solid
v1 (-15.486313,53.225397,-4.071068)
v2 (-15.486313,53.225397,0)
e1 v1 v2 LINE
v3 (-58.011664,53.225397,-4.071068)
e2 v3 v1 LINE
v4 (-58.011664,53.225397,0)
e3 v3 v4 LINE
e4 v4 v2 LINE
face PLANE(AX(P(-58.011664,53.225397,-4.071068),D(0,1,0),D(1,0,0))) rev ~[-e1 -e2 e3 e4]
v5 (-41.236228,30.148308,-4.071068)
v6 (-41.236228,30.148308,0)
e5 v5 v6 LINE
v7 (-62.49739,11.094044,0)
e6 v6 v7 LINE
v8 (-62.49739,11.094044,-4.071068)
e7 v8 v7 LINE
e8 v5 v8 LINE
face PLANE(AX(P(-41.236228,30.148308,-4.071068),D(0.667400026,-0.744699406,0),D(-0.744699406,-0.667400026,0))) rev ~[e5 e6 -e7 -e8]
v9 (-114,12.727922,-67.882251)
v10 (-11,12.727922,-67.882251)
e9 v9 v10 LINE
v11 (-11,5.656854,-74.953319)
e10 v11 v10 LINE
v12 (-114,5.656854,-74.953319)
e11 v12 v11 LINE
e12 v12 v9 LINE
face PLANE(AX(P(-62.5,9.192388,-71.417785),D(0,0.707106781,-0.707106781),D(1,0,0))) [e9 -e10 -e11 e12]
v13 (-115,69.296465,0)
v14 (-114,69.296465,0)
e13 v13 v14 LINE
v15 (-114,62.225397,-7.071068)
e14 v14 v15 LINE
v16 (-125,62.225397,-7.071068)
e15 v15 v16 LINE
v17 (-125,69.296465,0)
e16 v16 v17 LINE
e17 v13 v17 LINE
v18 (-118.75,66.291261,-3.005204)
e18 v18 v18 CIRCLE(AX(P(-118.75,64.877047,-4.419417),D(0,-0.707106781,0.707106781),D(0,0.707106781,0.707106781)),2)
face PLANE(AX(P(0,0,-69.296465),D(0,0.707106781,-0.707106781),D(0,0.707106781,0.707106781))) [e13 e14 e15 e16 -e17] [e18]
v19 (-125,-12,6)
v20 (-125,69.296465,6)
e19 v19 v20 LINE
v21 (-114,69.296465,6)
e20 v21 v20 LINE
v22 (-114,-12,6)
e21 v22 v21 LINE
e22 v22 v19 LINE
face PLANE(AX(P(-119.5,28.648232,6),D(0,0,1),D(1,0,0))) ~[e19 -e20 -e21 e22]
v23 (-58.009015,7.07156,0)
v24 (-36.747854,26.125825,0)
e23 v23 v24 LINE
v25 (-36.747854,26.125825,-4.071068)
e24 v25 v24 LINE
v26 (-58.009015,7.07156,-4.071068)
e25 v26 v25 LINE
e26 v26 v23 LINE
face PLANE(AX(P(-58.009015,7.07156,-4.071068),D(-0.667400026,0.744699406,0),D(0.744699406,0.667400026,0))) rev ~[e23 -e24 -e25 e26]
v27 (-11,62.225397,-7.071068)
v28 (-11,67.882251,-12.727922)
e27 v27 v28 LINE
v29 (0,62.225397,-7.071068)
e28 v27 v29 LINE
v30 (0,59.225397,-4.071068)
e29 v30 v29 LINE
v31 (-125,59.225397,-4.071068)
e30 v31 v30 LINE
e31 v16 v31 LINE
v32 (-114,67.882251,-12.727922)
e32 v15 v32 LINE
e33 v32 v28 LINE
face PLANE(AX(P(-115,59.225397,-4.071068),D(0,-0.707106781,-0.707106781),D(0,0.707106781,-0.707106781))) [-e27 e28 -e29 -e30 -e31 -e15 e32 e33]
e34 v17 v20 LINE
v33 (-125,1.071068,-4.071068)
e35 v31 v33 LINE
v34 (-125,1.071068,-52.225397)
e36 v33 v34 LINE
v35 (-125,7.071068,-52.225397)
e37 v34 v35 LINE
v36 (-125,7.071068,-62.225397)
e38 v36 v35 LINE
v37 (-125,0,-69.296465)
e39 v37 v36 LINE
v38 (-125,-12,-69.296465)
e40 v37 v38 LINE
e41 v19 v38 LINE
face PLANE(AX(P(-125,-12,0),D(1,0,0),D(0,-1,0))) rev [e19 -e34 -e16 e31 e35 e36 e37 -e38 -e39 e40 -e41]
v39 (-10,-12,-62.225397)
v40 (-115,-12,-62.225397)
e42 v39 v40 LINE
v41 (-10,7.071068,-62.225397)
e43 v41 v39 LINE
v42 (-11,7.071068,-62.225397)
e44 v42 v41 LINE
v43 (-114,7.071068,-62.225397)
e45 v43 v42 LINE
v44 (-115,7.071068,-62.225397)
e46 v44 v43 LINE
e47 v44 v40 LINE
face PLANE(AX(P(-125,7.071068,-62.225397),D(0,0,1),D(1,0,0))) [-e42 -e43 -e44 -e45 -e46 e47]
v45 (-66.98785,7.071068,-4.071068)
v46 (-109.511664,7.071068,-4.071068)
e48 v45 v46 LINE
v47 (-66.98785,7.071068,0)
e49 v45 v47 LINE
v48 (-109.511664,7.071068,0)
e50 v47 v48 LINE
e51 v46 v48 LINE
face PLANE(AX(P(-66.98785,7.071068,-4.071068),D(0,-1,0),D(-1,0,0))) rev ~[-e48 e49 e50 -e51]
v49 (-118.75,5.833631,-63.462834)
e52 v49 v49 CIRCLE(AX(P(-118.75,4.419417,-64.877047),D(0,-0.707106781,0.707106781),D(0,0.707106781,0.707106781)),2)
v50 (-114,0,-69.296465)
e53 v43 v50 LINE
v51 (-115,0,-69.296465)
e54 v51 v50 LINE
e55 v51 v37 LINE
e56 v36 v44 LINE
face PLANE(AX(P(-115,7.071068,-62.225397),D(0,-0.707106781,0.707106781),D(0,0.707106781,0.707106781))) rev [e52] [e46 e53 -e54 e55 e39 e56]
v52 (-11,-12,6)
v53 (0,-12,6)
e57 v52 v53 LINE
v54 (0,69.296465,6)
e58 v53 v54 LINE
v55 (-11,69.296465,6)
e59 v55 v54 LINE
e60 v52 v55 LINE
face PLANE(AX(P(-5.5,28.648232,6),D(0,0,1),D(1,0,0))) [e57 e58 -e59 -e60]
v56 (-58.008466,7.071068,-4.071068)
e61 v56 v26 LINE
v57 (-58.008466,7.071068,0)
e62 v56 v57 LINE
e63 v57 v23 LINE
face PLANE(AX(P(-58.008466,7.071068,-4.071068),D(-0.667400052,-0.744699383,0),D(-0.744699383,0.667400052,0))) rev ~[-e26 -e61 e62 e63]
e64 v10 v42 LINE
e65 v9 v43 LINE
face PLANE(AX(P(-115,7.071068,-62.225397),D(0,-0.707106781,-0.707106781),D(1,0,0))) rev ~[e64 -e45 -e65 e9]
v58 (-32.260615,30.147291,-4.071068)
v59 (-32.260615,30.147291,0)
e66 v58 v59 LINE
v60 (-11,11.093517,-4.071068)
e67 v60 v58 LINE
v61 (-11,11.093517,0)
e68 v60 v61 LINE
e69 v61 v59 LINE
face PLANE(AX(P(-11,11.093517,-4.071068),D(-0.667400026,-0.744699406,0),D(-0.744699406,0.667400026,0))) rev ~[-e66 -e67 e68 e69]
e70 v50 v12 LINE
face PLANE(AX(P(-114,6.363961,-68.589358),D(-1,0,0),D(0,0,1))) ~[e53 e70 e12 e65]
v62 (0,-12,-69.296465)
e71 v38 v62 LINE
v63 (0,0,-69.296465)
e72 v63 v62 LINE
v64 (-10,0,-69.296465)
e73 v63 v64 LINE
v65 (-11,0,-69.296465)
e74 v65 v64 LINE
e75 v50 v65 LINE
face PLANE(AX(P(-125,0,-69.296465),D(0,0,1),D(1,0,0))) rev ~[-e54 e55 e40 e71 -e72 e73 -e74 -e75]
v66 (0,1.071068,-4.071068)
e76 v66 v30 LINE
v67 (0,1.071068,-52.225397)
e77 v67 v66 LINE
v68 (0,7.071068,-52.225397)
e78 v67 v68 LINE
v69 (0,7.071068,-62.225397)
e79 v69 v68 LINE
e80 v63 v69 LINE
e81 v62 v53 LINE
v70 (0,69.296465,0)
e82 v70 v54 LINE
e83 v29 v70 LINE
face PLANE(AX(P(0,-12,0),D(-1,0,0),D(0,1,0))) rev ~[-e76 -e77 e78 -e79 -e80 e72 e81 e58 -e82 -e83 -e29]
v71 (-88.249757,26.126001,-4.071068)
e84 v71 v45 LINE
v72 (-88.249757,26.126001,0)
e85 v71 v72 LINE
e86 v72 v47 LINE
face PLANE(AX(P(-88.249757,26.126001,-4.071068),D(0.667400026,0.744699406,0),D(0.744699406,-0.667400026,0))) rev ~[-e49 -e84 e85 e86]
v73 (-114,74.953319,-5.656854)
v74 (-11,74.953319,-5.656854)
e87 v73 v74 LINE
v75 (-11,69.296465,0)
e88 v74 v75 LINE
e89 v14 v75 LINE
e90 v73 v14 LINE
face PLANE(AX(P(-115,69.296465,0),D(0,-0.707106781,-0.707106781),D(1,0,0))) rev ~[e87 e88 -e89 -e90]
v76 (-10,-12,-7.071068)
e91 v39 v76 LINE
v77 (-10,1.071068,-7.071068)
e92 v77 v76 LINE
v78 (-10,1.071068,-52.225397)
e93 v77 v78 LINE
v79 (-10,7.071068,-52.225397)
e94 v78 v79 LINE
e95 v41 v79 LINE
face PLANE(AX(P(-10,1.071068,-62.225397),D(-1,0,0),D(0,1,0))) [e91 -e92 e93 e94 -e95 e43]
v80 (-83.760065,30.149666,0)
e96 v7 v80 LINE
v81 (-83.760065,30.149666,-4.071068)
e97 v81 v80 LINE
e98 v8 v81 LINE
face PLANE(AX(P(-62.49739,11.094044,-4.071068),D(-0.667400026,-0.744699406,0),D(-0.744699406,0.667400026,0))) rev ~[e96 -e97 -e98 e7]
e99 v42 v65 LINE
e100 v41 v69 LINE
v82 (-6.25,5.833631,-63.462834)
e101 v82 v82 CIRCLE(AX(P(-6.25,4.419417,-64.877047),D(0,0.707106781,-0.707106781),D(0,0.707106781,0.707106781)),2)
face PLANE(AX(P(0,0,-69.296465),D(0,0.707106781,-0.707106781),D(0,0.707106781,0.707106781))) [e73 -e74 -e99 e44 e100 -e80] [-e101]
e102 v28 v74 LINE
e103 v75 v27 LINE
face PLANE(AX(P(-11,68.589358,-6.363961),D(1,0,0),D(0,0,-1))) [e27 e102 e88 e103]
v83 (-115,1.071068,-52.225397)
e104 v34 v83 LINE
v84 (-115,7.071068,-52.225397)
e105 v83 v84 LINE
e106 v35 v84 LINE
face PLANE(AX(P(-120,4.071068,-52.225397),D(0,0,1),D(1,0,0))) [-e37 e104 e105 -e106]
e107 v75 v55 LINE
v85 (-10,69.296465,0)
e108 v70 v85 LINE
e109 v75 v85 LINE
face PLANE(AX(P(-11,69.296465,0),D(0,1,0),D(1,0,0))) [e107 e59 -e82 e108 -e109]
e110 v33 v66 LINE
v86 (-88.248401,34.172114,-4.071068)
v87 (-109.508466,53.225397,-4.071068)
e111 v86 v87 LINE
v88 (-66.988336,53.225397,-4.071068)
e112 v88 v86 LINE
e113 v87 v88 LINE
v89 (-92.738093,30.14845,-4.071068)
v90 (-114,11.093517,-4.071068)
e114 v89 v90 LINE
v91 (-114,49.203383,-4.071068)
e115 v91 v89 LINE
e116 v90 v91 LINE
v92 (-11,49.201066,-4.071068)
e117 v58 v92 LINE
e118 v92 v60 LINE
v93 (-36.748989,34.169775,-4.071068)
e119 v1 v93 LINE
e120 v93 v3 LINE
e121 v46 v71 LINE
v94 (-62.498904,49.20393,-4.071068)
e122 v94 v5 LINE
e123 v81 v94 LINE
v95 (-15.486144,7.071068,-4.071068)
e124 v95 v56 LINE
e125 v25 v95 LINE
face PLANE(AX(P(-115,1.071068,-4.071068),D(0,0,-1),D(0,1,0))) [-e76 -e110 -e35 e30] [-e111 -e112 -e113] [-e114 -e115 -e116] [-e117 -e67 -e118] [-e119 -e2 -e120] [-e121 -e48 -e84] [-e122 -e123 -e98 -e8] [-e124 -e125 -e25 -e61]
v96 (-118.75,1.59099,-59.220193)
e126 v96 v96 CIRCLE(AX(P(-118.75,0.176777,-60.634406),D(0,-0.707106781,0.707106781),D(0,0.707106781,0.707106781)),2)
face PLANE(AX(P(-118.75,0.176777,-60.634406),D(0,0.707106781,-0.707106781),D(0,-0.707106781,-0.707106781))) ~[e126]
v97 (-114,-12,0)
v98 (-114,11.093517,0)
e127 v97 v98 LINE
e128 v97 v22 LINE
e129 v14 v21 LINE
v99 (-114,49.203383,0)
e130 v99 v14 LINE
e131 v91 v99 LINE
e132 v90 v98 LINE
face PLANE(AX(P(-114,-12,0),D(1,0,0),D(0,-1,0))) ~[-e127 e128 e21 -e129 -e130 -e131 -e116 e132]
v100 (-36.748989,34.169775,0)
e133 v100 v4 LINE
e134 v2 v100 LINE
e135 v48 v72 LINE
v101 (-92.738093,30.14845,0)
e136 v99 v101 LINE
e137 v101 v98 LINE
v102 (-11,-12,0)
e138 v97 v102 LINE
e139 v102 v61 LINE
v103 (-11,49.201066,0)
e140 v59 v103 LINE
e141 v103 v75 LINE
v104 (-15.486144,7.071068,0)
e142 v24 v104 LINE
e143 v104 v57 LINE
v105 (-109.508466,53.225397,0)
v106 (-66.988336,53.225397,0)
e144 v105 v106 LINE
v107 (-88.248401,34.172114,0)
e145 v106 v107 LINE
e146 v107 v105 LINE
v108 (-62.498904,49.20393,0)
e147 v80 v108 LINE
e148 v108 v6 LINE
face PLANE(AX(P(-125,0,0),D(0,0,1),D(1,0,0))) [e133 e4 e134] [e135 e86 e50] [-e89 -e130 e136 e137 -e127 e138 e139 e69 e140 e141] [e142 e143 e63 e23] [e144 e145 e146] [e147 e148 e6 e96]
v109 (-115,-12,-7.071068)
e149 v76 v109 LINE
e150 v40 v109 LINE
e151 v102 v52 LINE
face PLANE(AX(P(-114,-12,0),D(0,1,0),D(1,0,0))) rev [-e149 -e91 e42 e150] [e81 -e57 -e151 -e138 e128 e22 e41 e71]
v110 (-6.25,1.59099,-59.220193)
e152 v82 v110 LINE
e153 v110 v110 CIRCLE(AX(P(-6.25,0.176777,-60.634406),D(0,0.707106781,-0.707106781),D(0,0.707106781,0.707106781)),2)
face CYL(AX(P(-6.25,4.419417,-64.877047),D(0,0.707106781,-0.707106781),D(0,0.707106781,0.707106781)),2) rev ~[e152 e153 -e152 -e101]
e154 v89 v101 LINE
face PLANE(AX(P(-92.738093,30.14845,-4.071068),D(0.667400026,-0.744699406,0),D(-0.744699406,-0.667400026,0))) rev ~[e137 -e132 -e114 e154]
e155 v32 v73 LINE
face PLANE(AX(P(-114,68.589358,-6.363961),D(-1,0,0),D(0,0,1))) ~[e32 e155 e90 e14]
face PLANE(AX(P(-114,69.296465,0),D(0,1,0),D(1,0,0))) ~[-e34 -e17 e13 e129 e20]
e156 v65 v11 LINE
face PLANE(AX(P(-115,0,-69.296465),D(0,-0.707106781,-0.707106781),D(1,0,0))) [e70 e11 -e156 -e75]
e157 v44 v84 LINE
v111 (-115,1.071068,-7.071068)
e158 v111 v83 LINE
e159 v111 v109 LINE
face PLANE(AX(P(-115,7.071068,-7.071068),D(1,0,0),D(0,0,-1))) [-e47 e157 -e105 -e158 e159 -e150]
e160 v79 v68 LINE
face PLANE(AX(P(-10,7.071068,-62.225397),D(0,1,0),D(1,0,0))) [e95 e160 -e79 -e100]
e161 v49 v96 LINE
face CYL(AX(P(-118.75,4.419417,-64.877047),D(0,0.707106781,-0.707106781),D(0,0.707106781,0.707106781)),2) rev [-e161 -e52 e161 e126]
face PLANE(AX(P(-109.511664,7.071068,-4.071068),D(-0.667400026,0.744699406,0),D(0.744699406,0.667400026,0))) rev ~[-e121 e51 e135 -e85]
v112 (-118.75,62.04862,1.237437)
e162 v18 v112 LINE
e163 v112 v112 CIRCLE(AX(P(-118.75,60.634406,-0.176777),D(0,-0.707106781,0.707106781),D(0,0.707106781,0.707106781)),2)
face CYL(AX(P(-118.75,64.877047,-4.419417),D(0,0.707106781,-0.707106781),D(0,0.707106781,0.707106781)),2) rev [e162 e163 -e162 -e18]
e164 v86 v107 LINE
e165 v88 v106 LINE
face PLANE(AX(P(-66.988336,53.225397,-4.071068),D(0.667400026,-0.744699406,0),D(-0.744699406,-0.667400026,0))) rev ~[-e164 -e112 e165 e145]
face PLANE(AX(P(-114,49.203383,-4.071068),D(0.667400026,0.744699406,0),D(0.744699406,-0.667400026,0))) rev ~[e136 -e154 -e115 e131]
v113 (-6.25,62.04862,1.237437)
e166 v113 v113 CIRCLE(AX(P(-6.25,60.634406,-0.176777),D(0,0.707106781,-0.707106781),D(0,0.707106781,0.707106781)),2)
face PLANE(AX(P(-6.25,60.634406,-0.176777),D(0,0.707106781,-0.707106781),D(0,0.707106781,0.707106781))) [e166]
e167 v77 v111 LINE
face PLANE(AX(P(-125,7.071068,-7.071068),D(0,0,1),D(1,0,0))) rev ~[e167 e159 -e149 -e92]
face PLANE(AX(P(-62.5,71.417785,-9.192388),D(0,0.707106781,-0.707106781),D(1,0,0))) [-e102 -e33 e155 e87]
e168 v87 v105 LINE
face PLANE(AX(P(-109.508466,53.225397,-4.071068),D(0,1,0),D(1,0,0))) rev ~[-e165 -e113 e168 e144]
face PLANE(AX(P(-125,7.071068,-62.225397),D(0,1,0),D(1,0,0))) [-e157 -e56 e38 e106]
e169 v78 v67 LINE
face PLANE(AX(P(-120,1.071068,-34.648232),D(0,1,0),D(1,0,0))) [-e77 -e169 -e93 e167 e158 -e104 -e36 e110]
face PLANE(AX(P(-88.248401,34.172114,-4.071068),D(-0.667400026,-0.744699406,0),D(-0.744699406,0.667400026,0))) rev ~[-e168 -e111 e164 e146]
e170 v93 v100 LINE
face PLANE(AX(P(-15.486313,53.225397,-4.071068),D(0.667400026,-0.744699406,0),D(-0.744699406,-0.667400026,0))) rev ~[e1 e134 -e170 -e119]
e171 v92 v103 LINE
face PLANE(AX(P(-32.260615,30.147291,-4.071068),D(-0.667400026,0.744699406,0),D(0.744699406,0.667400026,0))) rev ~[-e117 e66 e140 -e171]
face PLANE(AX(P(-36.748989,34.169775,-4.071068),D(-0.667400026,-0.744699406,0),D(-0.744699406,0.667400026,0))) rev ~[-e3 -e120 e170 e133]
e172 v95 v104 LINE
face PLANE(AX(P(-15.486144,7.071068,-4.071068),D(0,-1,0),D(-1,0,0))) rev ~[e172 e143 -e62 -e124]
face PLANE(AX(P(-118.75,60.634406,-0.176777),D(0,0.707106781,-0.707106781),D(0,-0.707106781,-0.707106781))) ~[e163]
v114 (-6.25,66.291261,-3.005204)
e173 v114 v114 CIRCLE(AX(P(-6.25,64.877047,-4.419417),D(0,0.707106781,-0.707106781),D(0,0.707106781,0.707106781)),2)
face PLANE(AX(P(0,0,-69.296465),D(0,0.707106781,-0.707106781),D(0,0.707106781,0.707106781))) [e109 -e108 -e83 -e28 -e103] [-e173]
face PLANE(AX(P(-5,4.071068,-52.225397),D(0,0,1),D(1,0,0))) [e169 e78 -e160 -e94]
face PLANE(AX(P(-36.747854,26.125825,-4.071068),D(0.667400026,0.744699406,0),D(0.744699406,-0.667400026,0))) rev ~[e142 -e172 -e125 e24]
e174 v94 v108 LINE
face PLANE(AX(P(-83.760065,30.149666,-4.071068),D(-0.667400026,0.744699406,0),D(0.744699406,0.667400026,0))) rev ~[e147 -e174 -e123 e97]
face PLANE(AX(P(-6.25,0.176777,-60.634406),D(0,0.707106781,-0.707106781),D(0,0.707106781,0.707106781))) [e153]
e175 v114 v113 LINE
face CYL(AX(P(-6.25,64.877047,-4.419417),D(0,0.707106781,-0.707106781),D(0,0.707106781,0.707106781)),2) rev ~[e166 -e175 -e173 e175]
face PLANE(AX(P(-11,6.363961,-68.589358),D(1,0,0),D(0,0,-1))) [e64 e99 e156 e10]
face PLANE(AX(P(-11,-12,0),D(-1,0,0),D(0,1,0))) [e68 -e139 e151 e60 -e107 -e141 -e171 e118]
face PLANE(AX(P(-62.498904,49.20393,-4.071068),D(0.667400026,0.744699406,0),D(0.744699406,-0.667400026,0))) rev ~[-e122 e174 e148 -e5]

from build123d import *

# Parameters (mm, degrees)
BOSS_EXTRUDE3_DEPTH  = 125
SKETCH3_W            = 125
SKETCH3_H            = 69.296464556
BOSS_EXTRUDE5_DEPTH  = 12
CUT_EXTRUDE1_DEPTH   = 159.836393815
SKETCH7_W            = 105
SKETCH7_H            = 10
BOSS_EXTRUDE6_DEPTH  = 8
SKETCH8_W            = 105
SKETCH8_H            = 10
BOSS_EXTRUDE7_DEPTH  = 8
SKETCH9_W            = 105
SKETCH9_H            = 55.154328932
CUT_EXTRUDE2_DEPTH   = 161.78246173
SKETCH11_W           = 10
SKETCH11_H           = 55.154328932
CUT_EXTRUDE3_DEPTH   = 6
SKETCH12_W           = 10
SKETCH12_H           = 55.154328932
CUT_EXTRUDE4_DEPTH   = 6
SKETCH13_W           = 105
SKETCH13_H           = 61.154328932
CUT_EXTRUDE6_DEPTH   = 3
SKETCH14_R           = 1.9
CUT_EXTRUDE8_DEPTH   = 6
SKETCH15_R           = 1.9
CUT_EXTRUDE9_DEPTH   = 6
BOSS_EXTRUDE9_REACH  = 158.4
SKETCH25_W           = 10
SKETCH25_H           = 6
BOSS_EXTRUDE13_DEPTH = 10
CUT_EXTRUDE10_DEPTH  = 1
CUT_EXTRUDE11_DEPTH  = 1
SKETCH29_W           = 11
SKETCH29_H           = 81.296464556
BOSS_EXTRUDE15_DEPTH = 6
SKETCH31_R           = 2
CUT_EXTRUDE16_DEPTH  = 6
SKETCH32_R           = 2
CUT_EXTRUDE17_DEPTH  = 6
CUT_EXTRUDE22_DEPTH  = 157.400127877
CUT_EXTRUDE23_DEPTH  = 157.400127877
CUT_EXTRUDE26_REACH  = 164.072


with BuildPart() as part:
    # Sketch1 → Boss-Extrude3 (new body)
    with BuildSketch(Plane(origin=(0, 0, 0), x_dir=(0, 0, -1), z_dir=(1, 0, 0))):
        Polygon((0, 0), (69.296464556, 0), (0, 69.296464556), align=None)
    extrude(amount=-BOSS_EXTRUDE3_DEPTH)

    # Sketch3 → Boss-Extrude5 (add)
    with BuildSketch(Plane.XZ):
        with Locations((-62.5, -34.648232278)):
            Rectangle(SKETCH3_W, SKETCH3_H)
    extrude(amount=BOSS_EXTRUDE5_DEPTH)

    # Sketch6 → Cut-Extrude1 (cut, through all)
    with BuildSketch(Plane.ZY.offset(125)):
        Polygon((-7.071067812, 62.225396744), (-62.225396744, 7.071067812), (-7.071067812, 7.071067812), align=None)
    extrude(amount=-CUT_EXTRUDE1_DEPTH, mode=Mode.SUBTRACT)

    # Sketch7 → Boss-Extrude6 (add)
    with BuildSketch(Plane(origin=(0, 34.648232278, -34.648232278), x_dir=(1, 0, 0), z_dir=(0, 0.7071067811865515, -0.7071067811865436))):
        with Locations((-62.5, 44)):
            Rectangle(SKETCH7_W, SKETCH7_H)
    extrude(amount=BOSS_EXTRUDE6_DEPTH)

    # Sketch8 → Boss-Extrude7 (add)
    with BuildSketch(Plane(origin=(0, 34.648232278, -34.648232278), x_dir=(1, 0, 0), z_dir=(0, 0.7071067811865515, -0.7071067811865436))):
        with Locations((-62.5, -44)):
            Rectangle(SKETCH8_W, SKETCH8_H)
    extrude(amount=BOSS_EXTRUDE7_DEPTH)

    # Sketch9 → Cut-Extrude2 (cut, through all)
    with BuildSketch(Plane(origin=(0, 7.071067812, 0), x_dir=(1, 0, 0), z_dir=(0, 1, 0))):
        with Locations((-62.5, 34.648232278)):
            Rectangle(SKETCH9_W, SKETCH9_H)
    extrude(amount=-CUT_EXTRUDE2_DEPTH, mode=Mode.SUBTRACT)

    # Sketch11 → Cut-Extrude3 (cut)
    with BuildSketch(Plane(origin=(0, 7.071067812, 0), x_dir=(1, 0, 0), z_dir=(0, 1, 0))):
        with Locations((-5, 34.648232278)):
            Rectangle(SKETCH11_W, SKETCH11_H)
    extrude(amount=-CUT_EXTRUDE3_DEPTH, mode=Mode.SUBTRACT)

    # Sketch12 → Cut-Extrude4 (cut)
    with BuildSketch(Plane(origin=(0, 7.071067812, 0), x_dir=(1, 0, 0), z_dir=(0, 1, 0))):
        with Locations((-120, 34.648232278)):
            Rectangle(SKETCH12_W, SKETCH12_H)
    extrude(amount=-CUT_EXTRUDE4_DEPTH, mode=Mode.SUBTRACT)

    # Sketch13 → Cut-Extrude6 (cut)
    with BuildSketch(Plane(origin=(0, 0, -7.071067812), x_dir=(-1, 0, 0), z_dir=(0, 0, -1))):
        with Locations((62.5, 31.648232278)):
            Rectangle(SKETCH13_W, SKETCH13_H)
    extrude(amount=-CUT_EXTRUDE6_DEPTH, mode=Mode.SUBTRACT)

    # Sketch14 → Cut-Extrude8 (cut)
    with BuildSketch(Plane(origin=(0, 34.648232278, -34.648232278), x_dir=(1, 0, 0), z_dir=(0, 0.7071067811865515, -0.7071067811865436))):
        with Locations(Location((-6.25, 42.75, 0), (0, 0, 270))):
            Circle(SKETCH14_R)
    cut_extrude8 = extrude(amount=-CUT_EXTRUDE8_DEPTH, mode=Mode.SUBTRACT)

    # Mirror1: Cut-Extrude8 across plane
    add(cut_extrude8.mirror(Plane(origin=(-62.5, 0, 0), x_dir=(0, 0, 1), z_dir=(1, 0, 0))), mode=Mode.SUBTRACT)

    # Sketch15 → Cut-Extrude9 (cut)
    with BuildSketch(Plane(origin=(0, 34.648232278, -34.648232278), x_dir=(1, 0, 0), z_dir=(0, 0.7071067811865515, -0.7071067811865436))):
        with Locations(Location((-6.25, -42.75, 0), (0, 0, 270))):
            Circle(SKETCH15_R)
    cut_extrude9 = extrude(amount=-CUT_EXTRUDE9_DEPTH, mode=Mode.SUBTRACT)

    # Mirror2: Cut-Extrude9 across plane
    add(cut_extrude9.mirror(Plane(origin=(-62.5, 0, 0), x_dir=(0, 0, 1), z_dir=(1, 0, 0))), mode=Mode.SUBTRACT)

    # Sketch22 → Boss-Extrude9 (add, up to next)
    with BuildSketch(Plane.ZY.offset(10), mode=Mode.PRIVATE) as boss_extrude9_sk1:
        Polygon((-7.071067812, 62.225396744), (-4.071067812, 59.225396744), (-4.071067812, 62.225396744), align=None)
    boss_extrude9_tool1 = extrude(boss_extrude9_sk1.sketch, amount=BOSS_EXTRUDE9_REACH, mode=Mode.PRIVATE) - part.part
    add(boss_extrude9_tool1.solids().sort_by_distance((-10, 61.225397, -5.071068))[0])

    # Sketch25 → Boss-Extrude13 (add)
    with BuildSketch(Plane.XY.offset(-62.225396744)):
        with Locations((-5, 4.071067812)):
            Rectangle(SKETCH25_W, SKETCH25_H)
        with Locations((-120, 4.071067812)):
            Rectangle(SKETCH25_W, SKETCH25_H)
    extrude(amount=BOSS_EXTRUDE13_DEPTH)

    # Sketch26 → Cut-Extrude10 (cut)
    with BuildSketch(Plane(origin=(-10, 0, 0), x_dir=(0, 0, -1), z_dir=(1, 0, 0))):
        Polygon((0, 69.296464556), (7.071067812, 62.225396744), (12.727922061, 67.882250994), (5.656854249, 74.953318806), align=None)
    cut_extrude10 = extrude(amount=-CUT_EXTRUDE10_DEPTH, mode=Mode.SUBTRACT)

    # Sketch27 → Cut-Extrude11 (cut)
    with BuildSketch(Plane(origin=(-10, 0, 0), x_dir=(0, 0, -1), z_dir=(1, 0, 0))):
        Polygon((62.225396744, 7.071067812), (69.296464556, 0), (74.953318806, 5.656854249), (67.882250994, 12.727922061), align=None)
    cut_extrude11 = extrude(amount=-CUT_EXTRUDE11_DEPTH, mode=Mode.SUBTRACT)

    # Mirror3: Cut-Extrude10, Cut-Extrude11 across plane
    add(cut_extrude10.mirror(Plane(origin=(-62.5, 0, 0), x_dir=(0, 0, 1), z_dir=(1, 0, 0))), mode=Mode.SUBTRACT)
    add(cut_extrude11.mirror(Plane(origin=(-62.5, 0, 0), x_dir=(0, 0, 1), z_dir=(1, 0, 0))), mode=Mode.SUBTRACT)

    # Sketch29 → Boss-Extrude15 (add)
    with BuildSketch(Plane.XY):
        with Locations((-5.5, 28.648232278)):
            Rectangle(SKETCH29_W, SKETCH29_H)
    boss_extrude15 = extrude(amount=BOSS_EXTRUDE15_DEPTH)

    # Mirror4: Boss-Extrude15 across plane
    add(boss_extrude15.mirror(Plane(origin=(-62.5, 0, 0), x_dir=(0, 0, 1), z_dir=(1, 0, 0))))

    # Sketch31 → Cut-Extrude16 (cut)
    with BuildSketch(Plane(origin=(0, 34.648232278, -34.648232278), x_dir=(1, 0, 0), z_dir=(0, 0.7071067811865513, -0.7071067811865438))):
        with Locations(Location((-6.25, 42.75, 0), (0, 0, 270))):
            Circle(SKETCH31_R)
    cut_extrude16 = extrude(amount=-CUT_EXTRUDE16_DEPTH, mode=Mode.SUBTRACT)

    # Sketch32 → Cut-Extrude17 (cut)
    with BuildSketch(Plane(origin=(0, 34.648232278, -34.648232278), x_dir=(1, 0, 0), z_dir=(0, 0.7071067811865513, -0.7071067811865438))):
        with Locations(Location((-6.25, -42.75, 0), (0, 0, 270))):
            Circle(SKETCH32_R)
    cut_extrude17 = extrude(amount=-CUT_EXTRUDE17_DEPTH, mode=Mode.SUBTRACT)

    # Mirror5: Cut-Extrude16, Cut-Extrude17 across plane
    add(cut_extrude16.mirror(Plane(origin=(-62.5, 0, 0), x_dir=(0, 0, 1), z_dir=(1, 0, 0))), mode=Mode.SUBTRACT)
    add(cut_extrude17.mirror(Plane(origin=(-62.5, 0, 0), x_dir=(0, 0, 1), z_dir=(1, 0, 0))), mode=Mode.SUBTRACT)

    # Sketch41 → Cut-Extrude22 (cut, through all)
    with BuildSketch(Plane.ZY.offset(10)):
        Polygon((-7.071067812, 1.071067812), (-4.071067812, 1.071067812), (-4.071067812, 59.225396744), (-7.071067812, 62.225396744), align=None)
    extrude(amount=-CUT_EXTRUDE22_DEPTH, mode=Mode.SUBTRACT)

    # Sketch42 → Cut-Extrude23 (cut, through all)
    with BuildSketch(Plane(origin=(-115, 0, 0), x_dir=(0, 0, -1), z_dir=(1, 0, 0))):
        Polygon((7.071067812, 1.071067812), (4.071067812, 1.071067812), (4.071067812, 59.225396744), (7.071067812, 62.225396744), align=None)
    extrude(amount=-CUT_EXTRUDE23_DEPTH, mode=Mode.SUBTRACT)

    # Sketch43 → Cut-Extrude26 (cut, up to next)
    with BuildSketch(Plane(origin=(0, 0, -4.071067812), x_dir=(-1, 0, 0), z_dir=(0, 0, -1)), mode=Mode.PRIVATE) as cut_extrude26_sk1:
        Polygon((36.748988877, 34.169774937), (58.011664466, 53.225396744), (15.486313289, 53.225396744), align=None)
    cut_extrude26_tool1 = extrude(cut_extrude26_sk1.sketch, amount=-CUT_EXTRUDE26_REACH, mode=Mode.PRIVATE) & part.part
    # Sketch43 → Cut-Extrude26 (cut, up to next)
    with BuildSketch(Plane(origin=(0, 0, -4.071067812), x_dir=(-1, 0, 0), z_dir=(0, 0, -1)), mode=Mode.PRIVATE) as cut_extrude26_sk2:
        Polygon((32.260614543, 30.147291337), (11, 49.201066035), (11, 11.093516639), align=None)
    cut_extrude26_tool2 = extrude(cut_extrude26_sk2.sketch, amount=-CUT_EXTRUDE26_REACH, mode=Mode.PRIVATE) & part.part
    # Sketch43 → Cut-Extrude26 (cut, up to next)
    with BuildSketch(Plane(origin=(0, 0, -4.071067812), x_dir=(-1, 0, 0), z_dir=(0, 0, -1)), mode=Mode.PRIVATE) as cut_extrude26_sk3:
        Polygon((58.009015214, 7.07156019), (36.747854103, 26.125824723), (15.486143585, 7.071067812), (58.008465808, 7.071067812), align=None)
    cut_extrude26_tool3 = extrude(cut_extrude26_sk3.sketch, amount=-CUT_EXTRUDE26_REACH, mode=Mode.PRIVATE) & part.part
    # Sketch43 → Cut-Extrude26 (cut, up to next)
    with BuildSketch(Plane(origin=(0, 0, -4.071067812), x_dir=(-1, 0, 0), z_dir=(0, 0, -1)), mode=Mode.PRIVATE) as cut_extrude26_sk4:
        Polygon((83.760065137, 30.149665598), (62.498904026, 49.20393013), (41.236228437, 30.148308322), (62.497389548, 11.09404379), align=None)
    cut_extrude26_tool4 = extrude(cut_extrude26_sk4.sketch, amount=-CUT_EXTRUDE26_REACH, mode=Mode.PRIVATE) & part.part
    # Sketch43 → Cut-Extrude26 (cut, up to next)
    with BuildSketch(Plane(origin=(0, 0, -4.071067812), x_dir=(-1, 0, 0), z_dir=(0, 0, -1)), mode=Mode.PRIVATE) as cut_extrude26_sk5:
        Polygon((109.511664466, 7.071067812), (88.249757212, 26.126001038), (66.987849957, 7.071067812), align=None)
    cut_extrude26_tool5 = extrude(cut_extrude26_sk5.sketch, amount=-CUT_EXTRUDE26_REACH, mode=Mode.PRIVATE) & part.part
    # Sketch43 → Cut-Extrude26 (cut, up to next)
    with BuildSketch(Plane(origin=(0, 0, -4.071067812), x_dir=(-1, 0, 0), z_dir=(0, 0, -1)), mode=Mode.PRIVATE) as cut_extrude26_sk6:
        Polygon((114, 11.093516639), (114, 49.203383091), (92.738092746, 30.148449865), align=None)
    cut_extrude26_tool6 = extrude(cut_extrude26_sk6.sketch, amount=-CUT_EXTRUDE26_REACH, mode=Mode.PRIVATE) & part.part
    # Sketch43 → Cut-Extrude26 (cut, up to next)
    with BuildSketch(Plane(origin=(0, 0, -4.071067812), x_dir=(-1, 0, 0), z_dir=(0, 0, -1)), mode=Mode.PRIVATE) as cut_extrude26_sk7:
        Polygon((109.508465808, 53.225396744), (66.988335534, 53.225396744), (88.248400671, 34.172114425), align=None)
    cut_extrude26_tool7 = extrude(cut_extrude26_sk7.sketch, amount=-CUT_EXTRUDE26_REACH, mode=Mode.PRIVATE) & part.part
    add(cut_extrude26_tool1.solids().sort_by_distance((-36.748989, 46.873523, -4.071068))[0], mode=Mode.SUBTRACT)
    add(cut_extrude26_tool2.solids().sort_by_distance((-18.086872, 30.147291, -4.071068))[0], mode=Mode.SUBTRACT)
    add(cut_extrude26_tool3.solids().sort_by_distance((-36.747854, 13.422653, -4.071068))[0], mode=Mode.SUBTRACT)
    add(cut_extrude26_tool4.solids().sort_by_distance((-62.498147, 30.148987, -4.071068))[0], mode=Mode.SUBTRACT)
    add(cut_extrude26_tool5.solids().sort_by_distance((-88.249757, 13.422712, -4.071068))[0], mode=Mode.SUBTRACT)
    add(cut_extrude26_tool6.solids().sort_by_distance((-106.912698, 30.14845, -4.071068))[0], mode=Mode.SUBTRACT)
    add(cut_extrude26_tool7.solids().sort_by_distance((-88.248401, 46.874303, -4.071068))[0], mode=Mode.SUBTRACT)


solid = part.part
